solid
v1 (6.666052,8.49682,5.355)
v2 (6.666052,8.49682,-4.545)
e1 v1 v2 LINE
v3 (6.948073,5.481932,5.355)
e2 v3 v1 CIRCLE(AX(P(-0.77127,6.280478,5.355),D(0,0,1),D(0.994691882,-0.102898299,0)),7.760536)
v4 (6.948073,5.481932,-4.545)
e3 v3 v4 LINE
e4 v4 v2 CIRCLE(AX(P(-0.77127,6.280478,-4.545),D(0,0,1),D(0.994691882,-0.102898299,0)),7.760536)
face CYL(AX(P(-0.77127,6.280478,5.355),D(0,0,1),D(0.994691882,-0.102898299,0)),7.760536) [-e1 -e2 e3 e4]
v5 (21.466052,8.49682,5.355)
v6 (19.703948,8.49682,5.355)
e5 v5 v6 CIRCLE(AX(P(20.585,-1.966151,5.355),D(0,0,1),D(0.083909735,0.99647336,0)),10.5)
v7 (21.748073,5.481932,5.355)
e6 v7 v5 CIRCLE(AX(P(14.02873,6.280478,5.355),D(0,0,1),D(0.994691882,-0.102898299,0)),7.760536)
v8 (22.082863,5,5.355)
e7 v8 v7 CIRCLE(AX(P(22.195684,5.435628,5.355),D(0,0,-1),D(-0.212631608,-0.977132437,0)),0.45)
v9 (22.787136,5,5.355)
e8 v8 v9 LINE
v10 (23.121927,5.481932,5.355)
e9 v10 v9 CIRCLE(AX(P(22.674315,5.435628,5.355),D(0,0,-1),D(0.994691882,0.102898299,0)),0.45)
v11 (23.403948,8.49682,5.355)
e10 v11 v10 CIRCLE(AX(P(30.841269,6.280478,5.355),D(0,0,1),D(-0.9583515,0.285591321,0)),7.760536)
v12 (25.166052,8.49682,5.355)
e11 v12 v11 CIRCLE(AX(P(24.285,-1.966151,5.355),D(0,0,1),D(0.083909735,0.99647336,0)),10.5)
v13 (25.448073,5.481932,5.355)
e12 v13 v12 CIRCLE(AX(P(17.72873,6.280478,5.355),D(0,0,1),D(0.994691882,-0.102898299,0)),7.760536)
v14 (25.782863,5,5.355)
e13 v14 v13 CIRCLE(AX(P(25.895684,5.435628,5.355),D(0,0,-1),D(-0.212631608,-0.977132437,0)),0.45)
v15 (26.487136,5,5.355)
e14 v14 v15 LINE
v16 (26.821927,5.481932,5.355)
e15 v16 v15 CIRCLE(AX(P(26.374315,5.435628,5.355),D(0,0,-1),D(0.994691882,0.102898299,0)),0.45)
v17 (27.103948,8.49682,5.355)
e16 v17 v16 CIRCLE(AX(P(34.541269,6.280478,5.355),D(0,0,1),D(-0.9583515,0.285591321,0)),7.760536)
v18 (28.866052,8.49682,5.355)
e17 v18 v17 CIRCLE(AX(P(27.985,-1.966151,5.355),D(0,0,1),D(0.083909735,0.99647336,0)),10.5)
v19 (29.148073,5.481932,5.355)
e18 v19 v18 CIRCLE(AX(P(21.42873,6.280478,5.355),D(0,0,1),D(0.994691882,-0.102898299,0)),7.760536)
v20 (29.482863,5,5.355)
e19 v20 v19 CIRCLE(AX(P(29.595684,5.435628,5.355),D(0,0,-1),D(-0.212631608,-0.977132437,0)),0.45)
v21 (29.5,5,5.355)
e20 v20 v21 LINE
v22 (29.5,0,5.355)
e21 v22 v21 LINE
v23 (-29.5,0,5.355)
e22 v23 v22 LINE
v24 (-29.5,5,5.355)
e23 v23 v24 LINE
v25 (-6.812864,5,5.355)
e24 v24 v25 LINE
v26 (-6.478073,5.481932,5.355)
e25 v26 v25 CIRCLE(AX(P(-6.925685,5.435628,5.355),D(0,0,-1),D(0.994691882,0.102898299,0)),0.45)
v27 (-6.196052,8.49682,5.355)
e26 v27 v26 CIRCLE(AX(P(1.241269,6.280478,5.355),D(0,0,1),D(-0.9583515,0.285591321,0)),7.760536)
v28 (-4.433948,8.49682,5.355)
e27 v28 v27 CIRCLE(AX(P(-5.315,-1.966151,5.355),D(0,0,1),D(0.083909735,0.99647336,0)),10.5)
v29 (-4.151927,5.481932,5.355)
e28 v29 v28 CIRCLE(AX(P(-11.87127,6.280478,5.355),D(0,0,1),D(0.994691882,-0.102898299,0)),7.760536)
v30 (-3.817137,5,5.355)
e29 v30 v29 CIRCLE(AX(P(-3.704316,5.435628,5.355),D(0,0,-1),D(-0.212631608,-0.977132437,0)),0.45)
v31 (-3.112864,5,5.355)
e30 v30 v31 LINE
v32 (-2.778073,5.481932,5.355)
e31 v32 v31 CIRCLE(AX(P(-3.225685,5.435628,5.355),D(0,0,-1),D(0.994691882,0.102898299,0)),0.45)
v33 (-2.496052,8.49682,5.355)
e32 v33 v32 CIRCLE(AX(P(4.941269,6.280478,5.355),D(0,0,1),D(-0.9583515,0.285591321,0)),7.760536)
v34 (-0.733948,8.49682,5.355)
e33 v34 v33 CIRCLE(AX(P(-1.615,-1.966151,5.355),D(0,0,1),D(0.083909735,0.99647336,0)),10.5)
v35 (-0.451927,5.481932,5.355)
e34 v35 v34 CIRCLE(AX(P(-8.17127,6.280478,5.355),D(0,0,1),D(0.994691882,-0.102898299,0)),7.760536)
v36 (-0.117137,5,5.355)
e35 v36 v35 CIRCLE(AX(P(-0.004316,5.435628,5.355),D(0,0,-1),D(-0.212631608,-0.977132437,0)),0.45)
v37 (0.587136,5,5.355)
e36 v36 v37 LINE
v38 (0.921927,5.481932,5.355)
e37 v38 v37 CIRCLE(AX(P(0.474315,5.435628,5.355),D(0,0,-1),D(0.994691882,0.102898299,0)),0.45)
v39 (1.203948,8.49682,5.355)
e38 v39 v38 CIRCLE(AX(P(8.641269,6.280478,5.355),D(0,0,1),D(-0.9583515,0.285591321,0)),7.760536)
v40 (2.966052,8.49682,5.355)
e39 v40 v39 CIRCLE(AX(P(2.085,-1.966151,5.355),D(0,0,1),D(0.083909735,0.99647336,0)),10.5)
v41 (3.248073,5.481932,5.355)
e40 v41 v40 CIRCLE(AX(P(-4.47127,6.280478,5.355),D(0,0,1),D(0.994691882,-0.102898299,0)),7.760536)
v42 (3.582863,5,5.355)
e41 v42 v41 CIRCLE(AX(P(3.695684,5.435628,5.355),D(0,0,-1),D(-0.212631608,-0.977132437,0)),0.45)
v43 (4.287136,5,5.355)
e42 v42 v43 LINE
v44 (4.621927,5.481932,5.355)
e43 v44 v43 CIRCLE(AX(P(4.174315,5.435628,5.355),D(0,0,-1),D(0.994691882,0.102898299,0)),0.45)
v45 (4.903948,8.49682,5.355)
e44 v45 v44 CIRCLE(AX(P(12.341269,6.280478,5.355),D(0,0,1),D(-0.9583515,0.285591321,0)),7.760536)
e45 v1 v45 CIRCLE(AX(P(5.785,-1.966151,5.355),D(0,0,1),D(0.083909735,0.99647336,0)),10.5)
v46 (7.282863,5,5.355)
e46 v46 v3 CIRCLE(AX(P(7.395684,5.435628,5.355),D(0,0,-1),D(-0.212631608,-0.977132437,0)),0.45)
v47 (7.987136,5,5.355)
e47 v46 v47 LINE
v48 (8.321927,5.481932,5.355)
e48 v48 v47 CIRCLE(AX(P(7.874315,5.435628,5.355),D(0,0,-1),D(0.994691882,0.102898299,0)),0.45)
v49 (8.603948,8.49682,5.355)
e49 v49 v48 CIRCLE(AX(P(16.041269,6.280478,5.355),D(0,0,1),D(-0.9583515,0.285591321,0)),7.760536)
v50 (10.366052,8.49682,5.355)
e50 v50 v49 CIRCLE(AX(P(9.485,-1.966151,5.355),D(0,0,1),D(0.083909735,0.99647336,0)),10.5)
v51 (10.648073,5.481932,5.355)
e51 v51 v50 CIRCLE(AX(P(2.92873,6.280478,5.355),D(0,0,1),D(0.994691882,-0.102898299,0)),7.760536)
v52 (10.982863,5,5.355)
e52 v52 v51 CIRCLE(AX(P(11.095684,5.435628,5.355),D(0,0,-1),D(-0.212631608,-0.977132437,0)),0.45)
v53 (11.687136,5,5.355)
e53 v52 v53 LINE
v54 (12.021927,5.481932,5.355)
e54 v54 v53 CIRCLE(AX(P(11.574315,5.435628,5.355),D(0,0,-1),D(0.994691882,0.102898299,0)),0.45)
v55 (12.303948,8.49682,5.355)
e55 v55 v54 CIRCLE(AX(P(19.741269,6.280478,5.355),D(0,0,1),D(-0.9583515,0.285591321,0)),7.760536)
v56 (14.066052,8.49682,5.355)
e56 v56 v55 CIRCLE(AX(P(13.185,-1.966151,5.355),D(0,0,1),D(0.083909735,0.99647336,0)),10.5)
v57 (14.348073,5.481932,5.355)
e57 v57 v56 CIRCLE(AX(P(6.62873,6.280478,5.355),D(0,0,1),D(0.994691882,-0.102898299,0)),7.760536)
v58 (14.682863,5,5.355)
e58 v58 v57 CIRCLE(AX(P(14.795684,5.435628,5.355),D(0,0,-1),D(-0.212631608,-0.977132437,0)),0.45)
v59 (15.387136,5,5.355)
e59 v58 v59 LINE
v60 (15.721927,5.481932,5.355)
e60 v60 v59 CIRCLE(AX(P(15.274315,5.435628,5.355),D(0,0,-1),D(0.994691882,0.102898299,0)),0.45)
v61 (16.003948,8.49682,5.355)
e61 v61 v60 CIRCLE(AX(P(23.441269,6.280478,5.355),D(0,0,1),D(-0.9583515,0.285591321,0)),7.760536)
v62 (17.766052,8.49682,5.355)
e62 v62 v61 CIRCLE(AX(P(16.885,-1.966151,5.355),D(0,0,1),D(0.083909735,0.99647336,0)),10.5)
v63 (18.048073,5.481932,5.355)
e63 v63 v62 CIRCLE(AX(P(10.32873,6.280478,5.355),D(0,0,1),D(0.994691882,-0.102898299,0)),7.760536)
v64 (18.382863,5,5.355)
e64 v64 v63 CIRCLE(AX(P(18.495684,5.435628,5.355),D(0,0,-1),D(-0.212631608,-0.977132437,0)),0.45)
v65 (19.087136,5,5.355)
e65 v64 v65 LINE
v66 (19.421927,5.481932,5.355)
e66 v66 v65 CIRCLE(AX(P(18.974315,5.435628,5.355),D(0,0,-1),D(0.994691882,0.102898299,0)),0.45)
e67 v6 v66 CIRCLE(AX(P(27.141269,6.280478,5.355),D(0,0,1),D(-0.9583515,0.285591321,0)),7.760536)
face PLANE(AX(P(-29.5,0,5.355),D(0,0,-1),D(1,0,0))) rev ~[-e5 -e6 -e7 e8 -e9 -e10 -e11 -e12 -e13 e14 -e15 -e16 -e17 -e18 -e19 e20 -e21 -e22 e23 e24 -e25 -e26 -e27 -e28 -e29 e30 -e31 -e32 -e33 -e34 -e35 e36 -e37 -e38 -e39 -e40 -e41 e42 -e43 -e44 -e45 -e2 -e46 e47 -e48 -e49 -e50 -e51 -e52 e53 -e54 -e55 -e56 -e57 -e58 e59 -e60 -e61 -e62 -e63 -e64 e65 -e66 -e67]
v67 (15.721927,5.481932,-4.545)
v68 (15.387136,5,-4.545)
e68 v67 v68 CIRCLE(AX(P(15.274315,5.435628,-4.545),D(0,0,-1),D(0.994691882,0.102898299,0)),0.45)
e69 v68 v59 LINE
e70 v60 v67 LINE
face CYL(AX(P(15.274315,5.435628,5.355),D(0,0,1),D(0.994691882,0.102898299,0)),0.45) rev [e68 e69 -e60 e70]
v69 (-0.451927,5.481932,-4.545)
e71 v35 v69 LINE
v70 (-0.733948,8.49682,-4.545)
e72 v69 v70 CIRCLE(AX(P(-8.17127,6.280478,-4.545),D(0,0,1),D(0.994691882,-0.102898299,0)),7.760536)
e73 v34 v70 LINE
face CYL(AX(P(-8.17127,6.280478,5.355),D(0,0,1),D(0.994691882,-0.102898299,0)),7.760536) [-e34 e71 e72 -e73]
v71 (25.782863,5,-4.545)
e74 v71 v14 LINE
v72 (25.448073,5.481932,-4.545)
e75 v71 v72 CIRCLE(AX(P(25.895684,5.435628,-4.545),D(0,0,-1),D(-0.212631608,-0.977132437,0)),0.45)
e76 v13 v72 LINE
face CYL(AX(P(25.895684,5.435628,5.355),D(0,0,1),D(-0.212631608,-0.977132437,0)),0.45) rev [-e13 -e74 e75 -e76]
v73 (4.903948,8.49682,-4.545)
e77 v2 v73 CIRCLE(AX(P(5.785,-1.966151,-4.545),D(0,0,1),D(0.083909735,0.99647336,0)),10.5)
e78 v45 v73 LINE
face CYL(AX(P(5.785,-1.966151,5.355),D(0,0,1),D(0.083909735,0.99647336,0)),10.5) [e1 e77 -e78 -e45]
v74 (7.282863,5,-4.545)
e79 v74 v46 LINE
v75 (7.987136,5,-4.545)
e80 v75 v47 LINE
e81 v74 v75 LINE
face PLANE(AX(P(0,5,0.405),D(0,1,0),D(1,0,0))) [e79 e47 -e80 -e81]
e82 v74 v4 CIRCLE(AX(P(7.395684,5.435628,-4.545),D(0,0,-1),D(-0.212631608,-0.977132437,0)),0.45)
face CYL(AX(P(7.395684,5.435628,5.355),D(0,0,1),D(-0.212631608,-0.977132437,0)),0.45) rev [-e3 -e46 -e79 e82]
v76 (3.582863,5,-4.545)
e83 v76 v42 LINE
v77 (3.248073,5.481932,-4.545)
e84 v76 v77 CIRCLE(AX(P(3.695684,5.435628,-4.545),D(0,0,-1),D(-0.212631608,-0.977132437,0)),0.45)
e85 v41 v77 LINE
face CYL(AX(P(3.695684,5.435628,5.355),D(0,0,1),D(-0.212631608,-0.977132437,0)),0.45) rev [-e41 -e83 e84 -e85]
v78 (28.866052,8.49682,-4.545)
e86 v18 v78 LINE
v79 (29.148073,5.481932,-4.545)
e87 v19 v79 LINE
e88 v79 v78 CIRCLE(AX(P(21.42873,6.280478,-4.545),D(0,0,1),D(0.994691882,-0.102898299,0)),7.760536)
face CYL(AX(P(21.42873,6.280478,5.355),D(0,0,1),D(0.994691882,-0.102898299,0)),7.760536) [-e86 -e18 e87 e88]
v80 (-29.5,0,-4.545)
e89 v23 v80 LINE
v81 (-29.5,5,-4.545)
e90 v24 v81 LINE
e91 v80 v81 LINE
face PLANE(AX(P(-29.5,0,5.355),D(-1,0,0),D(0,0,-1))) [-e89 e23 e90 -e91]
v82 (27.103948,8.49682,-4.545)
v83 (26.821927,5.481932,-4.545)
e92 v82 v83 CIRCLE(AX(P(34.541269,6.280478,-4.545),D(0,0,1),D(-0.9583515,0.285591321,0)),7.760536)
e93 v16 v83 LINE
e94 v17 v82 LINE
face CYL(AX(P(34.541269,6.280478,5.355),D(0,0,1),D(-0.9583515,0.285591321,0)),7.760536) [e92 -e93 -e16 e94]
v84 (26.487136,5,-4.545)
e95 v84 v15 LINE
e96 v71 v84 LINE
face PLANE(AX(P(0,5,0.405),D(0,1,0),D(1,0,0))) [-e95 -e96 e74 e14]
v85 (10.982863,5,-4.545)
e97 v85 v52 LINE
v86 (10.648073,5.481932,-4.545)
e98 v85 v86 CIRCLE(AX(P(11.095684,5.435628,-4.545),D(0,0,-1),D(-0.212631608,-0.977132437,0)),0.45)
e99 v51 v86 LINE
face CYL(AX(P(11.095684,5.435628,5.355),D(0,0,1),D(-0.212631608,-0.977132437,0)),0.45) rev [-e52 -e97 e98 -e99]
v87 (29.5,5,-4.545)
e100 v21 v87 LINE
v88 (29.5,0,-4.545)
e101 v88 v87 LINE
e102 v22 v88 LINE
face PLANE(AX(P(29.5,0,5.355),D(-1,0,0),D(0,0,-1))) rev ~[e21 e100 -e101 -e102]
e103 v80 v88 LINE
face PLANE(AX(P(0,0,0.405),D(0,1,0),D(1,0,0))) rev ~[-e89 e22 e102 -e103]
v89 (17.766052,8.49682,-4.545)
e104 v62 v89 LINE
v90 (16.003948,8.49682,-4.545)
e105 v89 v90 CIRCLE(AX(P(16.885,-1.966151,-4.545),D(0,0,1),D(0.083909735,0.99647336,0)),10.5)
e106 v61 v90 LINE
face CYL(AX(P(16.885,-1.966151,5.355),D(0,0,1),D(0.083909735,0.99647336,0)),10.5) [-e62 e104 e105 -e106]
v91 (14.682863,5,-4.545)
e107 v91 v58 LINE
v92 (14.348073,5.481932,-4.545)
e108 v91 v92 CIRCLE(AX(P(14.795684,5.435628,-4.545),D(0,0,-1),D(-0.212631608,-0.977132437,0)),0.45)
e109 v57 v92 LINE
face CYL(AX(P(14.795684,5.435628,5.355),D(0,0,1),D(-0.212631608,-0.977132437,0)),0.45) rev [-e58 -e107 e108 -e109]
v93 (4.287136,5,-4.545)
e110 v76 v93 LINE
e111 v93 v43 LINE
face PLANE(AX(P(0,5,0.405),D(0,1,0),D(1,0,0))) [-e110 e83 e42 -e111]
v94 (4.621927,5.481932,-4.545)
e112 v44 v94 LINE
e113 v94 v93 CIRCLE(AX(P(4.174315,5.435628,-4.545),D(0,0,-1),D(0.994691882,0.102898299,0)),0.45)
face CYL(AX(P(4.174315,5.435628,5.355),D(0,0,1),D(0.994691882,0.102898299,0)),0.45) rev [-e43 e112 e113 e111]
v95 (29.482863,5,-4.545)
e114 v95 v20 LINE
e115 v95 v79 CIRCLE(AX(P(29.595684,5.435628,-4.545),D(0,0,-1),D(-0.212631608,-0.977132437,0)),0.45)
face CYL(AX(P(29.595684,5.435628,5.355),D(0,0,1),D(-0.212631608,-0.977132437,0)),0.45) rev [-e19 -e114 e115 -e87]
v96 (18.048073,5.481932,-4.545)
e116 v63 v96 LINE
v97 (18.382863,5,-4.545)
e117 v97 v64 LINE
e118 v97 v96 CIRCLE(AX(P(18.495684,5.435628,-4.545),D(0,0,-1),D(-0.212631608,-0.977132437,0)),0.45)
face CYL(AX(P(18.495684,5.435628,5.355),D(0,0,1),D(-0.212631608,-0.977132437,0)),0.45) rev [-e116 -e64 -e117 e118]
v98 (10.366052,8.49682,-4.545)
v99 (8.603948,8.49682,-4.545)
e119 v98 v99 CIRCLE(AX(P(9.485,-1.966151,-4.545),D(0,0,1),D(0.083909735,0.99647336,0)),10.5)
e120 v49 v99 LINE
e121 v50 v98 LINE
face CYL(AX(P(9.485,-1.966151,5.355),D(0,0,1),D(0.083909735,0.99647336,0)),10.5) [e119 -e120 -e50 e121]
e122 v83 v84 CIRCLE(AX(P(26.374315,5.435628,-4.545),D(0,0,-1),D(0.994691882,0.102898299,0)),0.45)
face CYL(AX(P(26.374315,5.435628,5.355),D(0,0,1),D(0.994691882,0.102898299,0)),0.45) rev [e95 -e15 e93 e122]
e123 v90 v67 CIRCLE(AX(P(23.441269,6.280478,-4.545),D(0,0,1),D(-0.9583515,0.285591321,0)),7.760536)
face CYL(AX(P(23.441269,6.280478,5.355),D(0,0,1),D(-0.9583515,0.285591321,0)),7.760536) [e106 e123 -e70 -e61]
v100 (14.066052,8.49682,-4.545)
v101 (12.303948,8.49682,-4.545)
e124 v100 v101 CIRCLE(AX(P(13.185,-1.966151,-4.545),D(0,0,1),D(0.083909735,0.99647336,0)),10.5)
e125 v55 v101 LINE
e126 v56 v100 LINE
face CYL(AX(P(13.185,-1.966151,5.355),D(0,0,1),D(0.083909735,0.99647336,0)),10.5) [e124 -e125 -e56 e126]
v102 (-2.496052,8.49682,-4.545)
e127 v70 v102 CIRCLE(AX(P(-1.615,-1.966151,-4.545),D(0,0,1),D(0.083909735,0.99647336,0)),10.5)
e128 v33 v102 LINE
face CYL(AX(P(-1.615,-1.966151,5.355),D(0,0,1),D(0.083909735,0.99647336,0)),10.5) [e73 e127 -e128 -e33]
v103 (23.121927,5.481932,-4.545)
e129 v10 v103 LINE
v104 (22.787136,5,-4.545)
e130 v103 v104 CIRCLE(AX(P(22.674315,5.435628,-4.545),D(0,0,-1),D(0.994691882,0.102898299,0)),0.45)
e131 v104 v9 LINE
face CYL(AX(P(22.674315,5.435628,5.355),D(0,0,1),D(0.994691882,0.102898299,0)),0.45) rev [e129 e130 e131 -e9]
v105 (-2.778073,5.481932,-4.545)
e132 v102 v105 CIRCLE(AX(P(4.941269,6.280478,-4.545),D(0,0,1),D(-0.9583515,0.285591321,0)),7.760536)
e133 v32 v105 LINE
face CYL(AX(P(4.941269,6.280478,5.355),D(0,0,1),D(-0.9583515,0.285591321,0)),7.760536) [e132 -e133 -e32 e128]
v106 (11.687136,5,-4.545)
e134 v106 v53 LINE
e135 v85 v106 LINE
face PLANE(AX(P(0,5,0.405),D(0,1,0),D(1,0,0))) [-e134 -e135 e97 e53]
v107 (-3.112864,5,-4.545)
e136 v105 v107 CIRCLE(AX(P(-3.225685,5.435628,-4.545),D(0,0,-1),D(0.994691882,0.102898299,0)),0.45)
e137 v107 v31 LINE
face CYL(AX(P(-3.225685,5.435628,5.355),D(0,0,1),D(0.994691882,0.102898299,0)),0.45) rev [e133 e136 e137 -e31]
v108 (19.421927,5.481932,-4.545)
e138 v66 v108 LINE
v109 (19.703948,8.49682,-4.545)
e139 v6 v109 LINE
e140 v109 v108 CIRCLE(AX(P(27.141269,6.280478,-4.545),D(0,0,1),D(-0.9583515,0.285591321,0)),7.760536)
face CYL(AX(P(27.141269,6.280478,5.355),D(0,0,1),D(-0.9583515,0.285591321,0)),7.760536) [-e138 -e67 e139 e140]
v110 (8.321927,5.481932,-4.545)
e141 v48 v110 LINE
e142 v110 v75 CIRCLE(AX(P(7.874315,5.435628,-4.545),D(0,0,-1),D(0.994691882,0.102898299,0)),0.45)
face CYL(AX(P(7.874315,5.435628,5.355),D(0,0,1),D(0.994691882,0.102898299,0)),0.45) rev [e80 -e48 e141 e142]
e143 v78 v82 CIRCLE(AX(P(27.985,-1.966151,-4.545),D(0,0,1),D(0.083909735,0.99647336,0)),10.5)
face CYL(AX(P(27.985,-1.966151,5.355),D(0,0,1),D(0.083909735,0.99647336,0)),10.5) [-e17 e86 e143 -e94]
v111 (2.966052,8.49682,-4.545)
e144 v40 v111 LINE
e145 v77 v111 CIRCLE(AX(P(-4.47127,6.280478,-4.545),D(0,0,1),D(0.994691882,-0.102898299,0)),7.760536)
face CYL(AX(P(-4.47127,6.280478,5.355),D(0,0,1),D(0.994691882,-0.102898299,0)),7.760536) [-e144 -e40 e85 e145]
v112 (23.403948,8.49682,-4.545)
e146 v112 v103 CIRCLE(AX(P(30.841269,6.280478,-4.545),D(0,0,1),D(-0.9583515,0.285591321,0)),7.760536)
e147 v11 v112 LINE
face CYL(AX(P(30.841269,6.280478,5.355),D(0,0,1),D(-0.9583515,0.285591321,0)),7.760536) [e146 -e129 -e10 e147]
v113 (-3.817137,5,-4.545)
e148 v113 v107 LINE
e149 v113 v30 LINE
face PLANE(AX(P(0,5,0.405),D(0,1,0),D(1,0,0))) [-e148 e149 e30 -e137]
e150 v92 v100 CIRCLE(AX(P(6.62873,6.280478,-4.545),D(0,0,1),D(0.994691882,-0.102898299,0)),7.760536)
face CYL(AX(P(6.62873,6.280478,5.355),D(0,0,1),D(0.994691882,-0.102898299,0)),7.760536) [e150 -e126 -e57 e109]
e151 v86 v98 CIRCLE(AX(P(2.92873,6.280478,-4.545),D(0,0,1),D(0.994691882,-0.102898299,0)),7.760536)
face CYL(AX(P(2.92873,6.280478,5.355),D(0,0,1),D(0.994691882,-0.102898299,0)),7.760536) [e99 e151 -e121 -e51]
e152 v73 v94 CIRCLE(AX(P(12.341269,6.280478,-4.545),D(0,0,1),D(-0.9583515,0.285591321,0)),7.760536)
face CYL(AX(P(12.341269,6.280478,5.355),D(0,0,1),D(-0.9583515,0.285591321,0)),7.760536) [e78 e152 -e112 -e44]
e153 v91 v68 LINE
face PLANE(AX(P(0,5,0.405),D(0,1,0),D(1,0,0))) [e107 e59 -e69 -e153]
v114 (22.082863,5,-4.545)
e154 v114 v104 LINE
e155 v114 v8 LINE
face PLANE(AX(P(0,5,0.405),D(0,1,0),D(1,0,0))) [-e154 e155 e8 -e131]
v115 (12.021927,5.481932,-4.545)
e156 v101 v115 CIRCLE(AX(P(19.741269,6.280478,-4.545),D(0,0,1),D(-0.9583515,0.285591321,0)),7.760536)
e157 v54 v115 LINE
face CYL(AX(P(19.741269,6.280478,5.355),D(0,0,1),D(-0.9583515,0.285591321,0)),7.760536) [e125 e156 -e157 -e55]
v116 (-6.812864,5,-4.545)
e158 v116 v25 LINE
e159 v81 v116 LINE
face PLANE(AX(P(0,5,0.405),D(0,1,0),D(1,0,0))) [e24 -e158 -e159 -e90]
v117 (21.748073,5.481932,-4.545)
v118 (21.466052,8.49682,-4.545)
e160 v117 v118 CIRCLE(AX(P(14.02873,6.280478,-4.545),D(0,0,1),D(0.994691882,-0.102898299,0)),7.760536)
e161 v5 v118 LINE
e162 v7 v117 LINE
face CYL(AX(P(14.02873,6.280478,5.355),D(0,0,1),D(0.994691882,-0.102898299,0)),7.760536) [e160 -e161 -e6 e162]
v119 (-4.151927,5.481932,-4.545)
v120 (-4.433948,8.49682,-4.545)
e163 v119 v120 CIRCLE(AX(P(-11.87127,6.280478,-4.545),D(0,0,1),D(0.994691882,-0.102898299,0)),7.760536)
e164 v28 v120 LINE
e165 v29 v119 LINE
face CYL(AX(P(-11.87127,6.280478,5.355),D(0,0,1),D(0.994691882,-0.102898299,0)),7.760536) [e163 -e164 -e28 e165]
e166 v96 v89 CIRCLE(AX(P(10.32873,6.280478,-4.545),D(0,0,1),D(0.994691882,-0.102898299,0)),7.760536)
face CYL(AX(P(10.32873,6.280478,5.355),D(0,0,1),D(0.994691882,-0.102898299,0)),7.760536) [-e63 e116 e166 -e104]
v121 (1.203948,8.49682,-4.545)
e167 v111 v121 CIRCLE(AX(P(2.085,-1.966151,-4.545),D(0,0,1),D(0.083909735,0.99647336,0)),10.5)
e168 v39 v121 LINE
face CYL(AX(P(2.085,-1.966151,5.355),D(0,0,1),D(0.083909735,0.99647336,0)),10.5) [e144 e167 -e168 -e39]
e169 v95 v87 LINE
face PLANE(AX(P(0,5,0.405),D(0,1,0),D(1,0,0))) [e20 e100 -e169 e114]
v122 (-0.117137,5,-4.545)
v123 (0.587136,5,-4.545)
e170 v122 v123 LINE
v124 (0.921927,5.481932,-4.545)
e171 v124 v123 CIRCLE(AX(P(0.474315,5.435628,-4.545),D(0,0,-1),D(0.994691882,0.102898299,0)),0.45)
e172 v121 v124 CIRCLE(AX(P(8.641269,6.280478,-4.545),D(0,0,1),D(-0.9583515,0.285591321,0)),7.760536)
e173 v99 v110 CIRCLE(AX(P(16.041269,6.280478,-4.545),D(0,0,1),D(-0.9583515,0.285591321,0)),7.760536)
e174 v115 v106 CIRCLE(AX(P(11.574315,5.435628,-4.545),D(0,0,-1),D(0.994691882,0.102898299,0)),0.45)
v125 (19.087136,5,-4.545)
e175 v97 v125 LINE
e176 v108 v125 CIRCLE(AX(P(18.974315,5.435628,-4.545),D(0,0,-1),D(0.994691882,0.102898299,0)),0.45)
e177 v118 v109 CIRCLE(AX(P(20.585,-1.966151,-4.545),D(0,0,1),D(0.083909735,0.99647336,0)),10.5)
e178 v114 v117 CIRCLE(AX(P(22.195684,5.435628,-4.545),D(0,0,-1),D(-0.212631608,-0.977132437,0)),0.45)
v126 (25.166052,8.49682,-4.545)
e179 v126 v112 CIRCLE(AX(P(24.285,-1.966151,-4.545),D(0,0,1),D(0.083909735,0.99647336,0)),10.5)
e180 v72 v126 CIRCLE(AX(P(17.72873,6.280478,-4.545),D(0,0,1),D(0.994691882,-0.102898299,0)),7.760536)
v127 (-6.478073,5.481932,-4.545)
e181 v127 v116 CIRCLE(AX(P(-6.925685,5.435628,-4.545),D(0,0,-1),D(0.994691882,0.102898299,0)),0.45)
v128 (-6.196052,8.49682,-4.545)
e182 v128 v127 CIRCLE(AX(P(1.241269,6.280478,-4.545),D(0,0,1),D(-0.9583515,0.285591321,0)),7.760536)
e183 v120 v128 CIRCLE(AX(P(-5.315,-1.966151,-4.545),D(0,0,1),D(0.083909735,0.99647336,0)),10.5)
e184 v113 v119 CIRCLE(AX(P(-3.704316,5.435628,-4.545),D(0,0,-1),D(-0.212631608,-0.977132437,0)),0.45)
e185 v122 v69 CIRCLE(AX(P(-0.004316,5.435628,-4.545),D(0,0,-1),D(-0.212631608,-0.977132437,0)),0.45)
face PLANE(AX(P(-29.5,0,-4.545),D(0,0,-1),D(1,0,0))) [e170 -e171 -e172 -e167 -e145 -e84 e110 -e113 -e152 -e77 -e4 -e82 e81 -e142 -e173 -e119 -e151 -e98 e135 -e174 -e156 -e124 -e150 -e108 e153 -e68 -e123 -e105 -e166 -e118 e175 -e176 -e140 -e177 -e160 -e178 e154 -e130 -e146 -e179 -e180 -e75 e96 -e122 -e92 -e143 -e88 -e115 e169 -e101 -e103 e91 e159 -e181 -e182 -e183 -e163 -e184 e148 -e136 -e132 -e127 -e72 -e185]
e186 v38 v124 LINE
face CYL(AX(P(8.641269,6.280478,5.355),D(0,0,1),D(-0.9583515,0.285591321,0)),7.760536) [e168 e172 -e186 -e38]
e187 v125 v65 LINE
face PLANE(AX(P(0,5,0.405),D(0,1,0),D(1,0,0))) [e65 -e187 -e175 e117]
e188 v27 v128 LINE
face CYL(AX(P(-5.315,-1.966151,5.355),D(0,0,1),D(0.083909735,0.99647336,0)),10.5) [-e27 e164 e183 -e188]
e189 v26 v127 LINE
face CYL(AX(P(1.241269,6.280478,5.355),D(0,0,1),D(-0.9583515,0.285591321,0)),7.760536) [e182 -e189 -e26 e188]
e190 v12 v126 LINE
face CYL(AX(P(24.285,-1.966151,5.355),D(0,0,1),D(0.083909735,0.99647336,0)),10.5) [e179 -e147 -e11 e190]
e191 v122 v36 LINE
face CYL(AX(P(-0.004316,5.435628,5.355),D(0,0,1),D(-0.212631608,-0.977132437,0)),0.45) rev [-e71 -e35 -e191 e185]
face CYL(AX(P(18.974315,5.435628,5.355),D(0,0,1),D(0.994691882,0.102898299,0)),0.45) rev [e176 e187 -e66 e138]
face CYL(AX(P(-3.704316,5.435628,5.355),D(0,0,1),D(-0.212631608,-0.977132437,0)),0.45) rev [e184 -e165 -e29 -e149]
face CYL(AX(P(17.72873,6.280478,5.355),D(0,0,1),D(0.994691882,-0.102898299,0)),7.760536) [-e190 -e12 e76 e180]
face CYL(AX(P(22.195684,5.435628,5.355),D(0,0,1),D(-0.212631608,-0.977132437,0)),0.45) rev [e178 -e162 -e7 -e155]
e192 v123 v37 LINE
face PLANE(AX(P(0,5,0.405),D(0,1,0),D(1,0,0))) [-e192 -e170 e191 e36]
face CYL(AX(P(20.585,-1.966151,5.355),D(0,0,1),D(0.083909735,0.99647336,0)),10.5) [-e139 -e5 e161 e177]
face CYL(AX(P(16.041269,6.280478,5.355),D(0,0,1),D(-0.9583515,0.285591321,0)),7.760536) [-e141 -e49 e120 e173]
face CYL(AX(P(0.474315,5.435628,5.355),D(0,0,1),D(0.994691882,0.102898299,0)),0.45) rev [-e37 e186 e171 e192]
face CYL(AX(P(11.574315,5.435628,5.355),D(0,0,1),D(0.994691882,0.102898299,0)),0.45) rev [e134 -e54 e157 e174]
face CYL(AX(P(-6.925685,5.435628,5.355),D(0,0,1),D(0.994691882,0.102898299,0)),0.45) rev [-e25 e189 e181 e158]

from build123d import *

# Parameters (mm, degrees)
SKETCH1_W           = 59
SKETCH1_H           = 9.9
BOSS_EXTRUDE1_DEPTH = 5
BOSS_EXTRUDE4_DEPTH = 9.9


with BuildPart() as part:
    # Sketch1 → Boss-Extrude1 (new body)
    with BuildSketch(Plane(origin=(0, 0, 0), x_dir=(1, 0, 0), z_dir=(0, 1, 0))):
        with Locations((0, -0.405)):
            Rectangle(SKETCH1_W, SKETCH1_H)
    extrude(amount=BOSS_EXTRUDE1_DEPTH)

    # Sketch7 → Boss-Extrude4 (add, through all)
    with BuildSketch(Plane.XY.offset(5.355)):
        with BuildLine():
            Line((26.46999961, 4.995918044), (29.5, 4.995918044))
            ThreePointArc((29.5, 4.995918044), (29.231205307, 5.171705077), (29.148072876, 5.481931876))
            ThreePointArc((29.148072876, 5.481931876), (29.15553464, 7.003264285), (28.866052019, 8.496819705))
            ThreePointArc((28.866052019, 8.496819705), (27.984999805, 8.533849429), (27.103947591, 8.496819705))
            ThreePointArc((27.103947591, 8.496819705), (26.81446497, 7.003264285), (26.821926734, 5.481931876))
            ThreePointArc((26.821926734, 5.481931876), (26.738794303, 5.171705077), (26.46999961, 4.995918044))
        make_face()
        with BuildLine():
            Line((7.96999961, 4.995918044), (11, 4.995918044))
            ThreePointArc((11, 4.995918044), (10.731205307, 5.171705077), (10.648072876, 5.481931876))
            ThreePointArc((10.648072876, 5.481931876), (10.65553464, 7.003264285), (10.366052019, 8.496819705))
            ThreePointArc((10.366052019, 8.496819705), (9.484999805, 8.533849429), (8.603947591, 8.496819705))
            ThreePointArc((8.603947591, 8.496819705), (8.31446497, 7.003264285), (8.321926734, 5.481931876))
            ThreePointArc((8.321926734, 5.481931876), (8.238794303, 5.171705077), (7.96999961, 4.995918044))
        make_face()
        with BuildLine():
            Line((22.76999961, 4.995918044), (25.8, 4.995918044))
            ThreePointArc((25.8, 4.995918044), (25.531205307, 5.171705077), (25.448072876, 5.481931876))
            ThreePointArc((25.448072876, 5.481931876), (25.45553464, 7.003264285), (25.166052019, 8.496819705))
            ThreePointArc((25.166052019, 8.496819705), (24.284999805, 8.533849429), (23.403947591, 8.496819705))
            ThreePointArc((23.403947591, 8.496819705), (23.11446497, 7.003264285), (23.121926734, 5.481931876))
            ThreePointArc((23.121926734, 5.481931876), (23.038794303, 5.171705077), (22.76999961, 4.995918044))
        make_face()
        with BuildLine():
            Line((19.06999961, 4.995918044), (22.1, 4.995918044))
            ThreePointArc((22.1, 4.995918044), (21.831205307, 5.171705077), (21.748072876, 5.481931876))
            ThreePointArc((21.748072876, 5.481931876), (21.75553464, 7.003264285), (21.466052019, 8.496819705))
            ThreePointArc((21.466052019, 8.496819705), (20.584999805, 8.533849429), (19.703947591, 8.496819705))
            ThreePointArc((19.703947591, 8.496819705), (19.41446497, 7.003264285), (19.421926734, 5.481931876))
            ThreePointArc((19.421926734, 5.481931876), (19.338794303, 5.171705077), (19.06999961, 4.995918044))
        make_face()
        with BuildLine():
            Line((15.36999961, 4.995918044), (18.4, 4.995918044))
            ThreePointArc((18.4, 4.995918044), (18.131205307, 5.171705077), (18.048072876, 5.481931876))
            ThreePointArc((18.048072876, 5.481931876), (18.05553464, 7.003264285), (17.766052019, 8.496819705))
            ThreePointArc((17.766052019, 8.496819705), (16.884999805, 8.533849429), (16.003947591, 8.496819705))
            ThreePointArc((16.003947591, 8.496819705), (15.71446497, 7.003264285), (15.721926734, 5.481931876))
            ThreePointArc((15.721926734, 5.481931876), (15.638794303, 5.171705077), (15.36999961, 4.995918044))
        make_face()
        with BuildLine():
            Line((11.66999961, 4.995918044), (14.7, 4.995918044))
            ThreePointArc((14.7, 4.995918044), (14.431205307, 5.171705077), (14.348072876, 5.481931876))
            ThreePointArc((14.348072876, 5.481931876), (14.35553464, 7.003264285), (14.066052019, 8.496819705))
            ThreePointArc((14.066052019, 8.496819705), (13.184999805, 8.533849429), (12.303947591, 8.496819705))
            ThreePointArc((12.303947591, 8.496819705), (12.01446497, 7.003264285), (12.021926734, 5.481931876))
            ThreePointArc((12.021926734, 5.481931876), (11.938794303, 5.171705077), (11.66999961, 4.995918044))
        make_face()
        with BuildLine():
            Line((4.26999961, 4.995918044), (7.3, 4.995918044))
            ThreePointArc((7.3, 4.995918044), (7.031205307, 5.171705077), (6.948072876, 5.481931876))
            ThreePointArc((6.948072876, 5.481931876), (6.95553464, 7.003264285), (6.666052019, 8.496819705))
            ThreePointArc((6.666052019, 8.496819705), (5.784999805, 8.533849429), (4.903947591, 8.496819705))
            ThreePointArc((4.903947591, 8.496819705), (4.61446497, 7.003264285), (4.621926734, 5.481931876))
            ThreePointArc((4.621926734, 5.481931876), (4.538794303, 5.171705077), (4.26999961, 4.995918044))
        make_face()
        with BuildLine():
            Line((0.56999961, 4.995918044), (3.6, 4.995918044))
            ThreePointArc((3.6, 4.995918044), (3.331205307, 5.171705077), (3.248072876, 5.481931876))
            ThreePointArc((3.248072876, 5.481931876), (3.25553464, 7.003264285), (2.966052019, 8.496819705))
            ThreePointArc((2.966052019, 8.496819705), (2.084999805, 8.533849429), (1.203947591, 8.496819705))
            ThreePointArc((1.203947591, 8.496819705), (0.91446497, 7.003264285), (0.921926734, 5.481931876))
            ThreePointArc((0.921926734, 5.481931876), (0.838794303, 5.171705077), (0.56999961, 4.995918044))
        make_face()
        with BuildLine():
            Line((-3.13000039, 4.995918044), (-0.1, 4.995918044))
            ThreePointArc((-0.1, 4.995918044), (-0.368794693, 5.171705077), (-0.451927124, 5.481931876))
            ThreePointArc((-0.451927124, 5.481931876), (-0.44446536, 7.003264285), (-0.733947981, 8.496819705))
            ThreePointArc((-0.733947981, 8.496819705), (-1.615000195, 8.533849429), (-2.496052409, 8.496819705))
            ThreePointArc((-2.496052409, 8.496819705), (-2.78553503, 7.003264285), (-2.778073266, 5.481931876))
            ThreePointArc((-2.778073266, 5.481931876), (-2.861205697, 5.171705077), (-3.13000039, 4.995918044))
        make_face()
        with BuildLine():
            Line((-6.83000039, 4.995918044), (-3.8, 4.995918044))
            ThreePointArc((-3.8, 4.995918044), (-4.068794693, 5.171705077), (-4.151927124, 5.481931876))
            ThreePointArc((-4.151927124, 5.481931876), (-4.14446536, 7.003264285), (-4.433947981, 8.496819705))
            ThreePointArc((-4.433947981, 8.496819705), (-5.315000195, 8.533849429), (-6.196052409, 8.496819705))
            ThreePointArc((-6.196052409, 8.496819705), (-6.48553503, 7.003264285), (-6.478073266, 5.481931876))
            ThreePointArc((-6.478073266, 5.481931876), (-6.561205697, 5.171705077), (-6.83000039, 4.995918044))
        make_face()
    extrude(amount=-BOSS_EXTRUDE4_DEPTH)


solid = part.part
